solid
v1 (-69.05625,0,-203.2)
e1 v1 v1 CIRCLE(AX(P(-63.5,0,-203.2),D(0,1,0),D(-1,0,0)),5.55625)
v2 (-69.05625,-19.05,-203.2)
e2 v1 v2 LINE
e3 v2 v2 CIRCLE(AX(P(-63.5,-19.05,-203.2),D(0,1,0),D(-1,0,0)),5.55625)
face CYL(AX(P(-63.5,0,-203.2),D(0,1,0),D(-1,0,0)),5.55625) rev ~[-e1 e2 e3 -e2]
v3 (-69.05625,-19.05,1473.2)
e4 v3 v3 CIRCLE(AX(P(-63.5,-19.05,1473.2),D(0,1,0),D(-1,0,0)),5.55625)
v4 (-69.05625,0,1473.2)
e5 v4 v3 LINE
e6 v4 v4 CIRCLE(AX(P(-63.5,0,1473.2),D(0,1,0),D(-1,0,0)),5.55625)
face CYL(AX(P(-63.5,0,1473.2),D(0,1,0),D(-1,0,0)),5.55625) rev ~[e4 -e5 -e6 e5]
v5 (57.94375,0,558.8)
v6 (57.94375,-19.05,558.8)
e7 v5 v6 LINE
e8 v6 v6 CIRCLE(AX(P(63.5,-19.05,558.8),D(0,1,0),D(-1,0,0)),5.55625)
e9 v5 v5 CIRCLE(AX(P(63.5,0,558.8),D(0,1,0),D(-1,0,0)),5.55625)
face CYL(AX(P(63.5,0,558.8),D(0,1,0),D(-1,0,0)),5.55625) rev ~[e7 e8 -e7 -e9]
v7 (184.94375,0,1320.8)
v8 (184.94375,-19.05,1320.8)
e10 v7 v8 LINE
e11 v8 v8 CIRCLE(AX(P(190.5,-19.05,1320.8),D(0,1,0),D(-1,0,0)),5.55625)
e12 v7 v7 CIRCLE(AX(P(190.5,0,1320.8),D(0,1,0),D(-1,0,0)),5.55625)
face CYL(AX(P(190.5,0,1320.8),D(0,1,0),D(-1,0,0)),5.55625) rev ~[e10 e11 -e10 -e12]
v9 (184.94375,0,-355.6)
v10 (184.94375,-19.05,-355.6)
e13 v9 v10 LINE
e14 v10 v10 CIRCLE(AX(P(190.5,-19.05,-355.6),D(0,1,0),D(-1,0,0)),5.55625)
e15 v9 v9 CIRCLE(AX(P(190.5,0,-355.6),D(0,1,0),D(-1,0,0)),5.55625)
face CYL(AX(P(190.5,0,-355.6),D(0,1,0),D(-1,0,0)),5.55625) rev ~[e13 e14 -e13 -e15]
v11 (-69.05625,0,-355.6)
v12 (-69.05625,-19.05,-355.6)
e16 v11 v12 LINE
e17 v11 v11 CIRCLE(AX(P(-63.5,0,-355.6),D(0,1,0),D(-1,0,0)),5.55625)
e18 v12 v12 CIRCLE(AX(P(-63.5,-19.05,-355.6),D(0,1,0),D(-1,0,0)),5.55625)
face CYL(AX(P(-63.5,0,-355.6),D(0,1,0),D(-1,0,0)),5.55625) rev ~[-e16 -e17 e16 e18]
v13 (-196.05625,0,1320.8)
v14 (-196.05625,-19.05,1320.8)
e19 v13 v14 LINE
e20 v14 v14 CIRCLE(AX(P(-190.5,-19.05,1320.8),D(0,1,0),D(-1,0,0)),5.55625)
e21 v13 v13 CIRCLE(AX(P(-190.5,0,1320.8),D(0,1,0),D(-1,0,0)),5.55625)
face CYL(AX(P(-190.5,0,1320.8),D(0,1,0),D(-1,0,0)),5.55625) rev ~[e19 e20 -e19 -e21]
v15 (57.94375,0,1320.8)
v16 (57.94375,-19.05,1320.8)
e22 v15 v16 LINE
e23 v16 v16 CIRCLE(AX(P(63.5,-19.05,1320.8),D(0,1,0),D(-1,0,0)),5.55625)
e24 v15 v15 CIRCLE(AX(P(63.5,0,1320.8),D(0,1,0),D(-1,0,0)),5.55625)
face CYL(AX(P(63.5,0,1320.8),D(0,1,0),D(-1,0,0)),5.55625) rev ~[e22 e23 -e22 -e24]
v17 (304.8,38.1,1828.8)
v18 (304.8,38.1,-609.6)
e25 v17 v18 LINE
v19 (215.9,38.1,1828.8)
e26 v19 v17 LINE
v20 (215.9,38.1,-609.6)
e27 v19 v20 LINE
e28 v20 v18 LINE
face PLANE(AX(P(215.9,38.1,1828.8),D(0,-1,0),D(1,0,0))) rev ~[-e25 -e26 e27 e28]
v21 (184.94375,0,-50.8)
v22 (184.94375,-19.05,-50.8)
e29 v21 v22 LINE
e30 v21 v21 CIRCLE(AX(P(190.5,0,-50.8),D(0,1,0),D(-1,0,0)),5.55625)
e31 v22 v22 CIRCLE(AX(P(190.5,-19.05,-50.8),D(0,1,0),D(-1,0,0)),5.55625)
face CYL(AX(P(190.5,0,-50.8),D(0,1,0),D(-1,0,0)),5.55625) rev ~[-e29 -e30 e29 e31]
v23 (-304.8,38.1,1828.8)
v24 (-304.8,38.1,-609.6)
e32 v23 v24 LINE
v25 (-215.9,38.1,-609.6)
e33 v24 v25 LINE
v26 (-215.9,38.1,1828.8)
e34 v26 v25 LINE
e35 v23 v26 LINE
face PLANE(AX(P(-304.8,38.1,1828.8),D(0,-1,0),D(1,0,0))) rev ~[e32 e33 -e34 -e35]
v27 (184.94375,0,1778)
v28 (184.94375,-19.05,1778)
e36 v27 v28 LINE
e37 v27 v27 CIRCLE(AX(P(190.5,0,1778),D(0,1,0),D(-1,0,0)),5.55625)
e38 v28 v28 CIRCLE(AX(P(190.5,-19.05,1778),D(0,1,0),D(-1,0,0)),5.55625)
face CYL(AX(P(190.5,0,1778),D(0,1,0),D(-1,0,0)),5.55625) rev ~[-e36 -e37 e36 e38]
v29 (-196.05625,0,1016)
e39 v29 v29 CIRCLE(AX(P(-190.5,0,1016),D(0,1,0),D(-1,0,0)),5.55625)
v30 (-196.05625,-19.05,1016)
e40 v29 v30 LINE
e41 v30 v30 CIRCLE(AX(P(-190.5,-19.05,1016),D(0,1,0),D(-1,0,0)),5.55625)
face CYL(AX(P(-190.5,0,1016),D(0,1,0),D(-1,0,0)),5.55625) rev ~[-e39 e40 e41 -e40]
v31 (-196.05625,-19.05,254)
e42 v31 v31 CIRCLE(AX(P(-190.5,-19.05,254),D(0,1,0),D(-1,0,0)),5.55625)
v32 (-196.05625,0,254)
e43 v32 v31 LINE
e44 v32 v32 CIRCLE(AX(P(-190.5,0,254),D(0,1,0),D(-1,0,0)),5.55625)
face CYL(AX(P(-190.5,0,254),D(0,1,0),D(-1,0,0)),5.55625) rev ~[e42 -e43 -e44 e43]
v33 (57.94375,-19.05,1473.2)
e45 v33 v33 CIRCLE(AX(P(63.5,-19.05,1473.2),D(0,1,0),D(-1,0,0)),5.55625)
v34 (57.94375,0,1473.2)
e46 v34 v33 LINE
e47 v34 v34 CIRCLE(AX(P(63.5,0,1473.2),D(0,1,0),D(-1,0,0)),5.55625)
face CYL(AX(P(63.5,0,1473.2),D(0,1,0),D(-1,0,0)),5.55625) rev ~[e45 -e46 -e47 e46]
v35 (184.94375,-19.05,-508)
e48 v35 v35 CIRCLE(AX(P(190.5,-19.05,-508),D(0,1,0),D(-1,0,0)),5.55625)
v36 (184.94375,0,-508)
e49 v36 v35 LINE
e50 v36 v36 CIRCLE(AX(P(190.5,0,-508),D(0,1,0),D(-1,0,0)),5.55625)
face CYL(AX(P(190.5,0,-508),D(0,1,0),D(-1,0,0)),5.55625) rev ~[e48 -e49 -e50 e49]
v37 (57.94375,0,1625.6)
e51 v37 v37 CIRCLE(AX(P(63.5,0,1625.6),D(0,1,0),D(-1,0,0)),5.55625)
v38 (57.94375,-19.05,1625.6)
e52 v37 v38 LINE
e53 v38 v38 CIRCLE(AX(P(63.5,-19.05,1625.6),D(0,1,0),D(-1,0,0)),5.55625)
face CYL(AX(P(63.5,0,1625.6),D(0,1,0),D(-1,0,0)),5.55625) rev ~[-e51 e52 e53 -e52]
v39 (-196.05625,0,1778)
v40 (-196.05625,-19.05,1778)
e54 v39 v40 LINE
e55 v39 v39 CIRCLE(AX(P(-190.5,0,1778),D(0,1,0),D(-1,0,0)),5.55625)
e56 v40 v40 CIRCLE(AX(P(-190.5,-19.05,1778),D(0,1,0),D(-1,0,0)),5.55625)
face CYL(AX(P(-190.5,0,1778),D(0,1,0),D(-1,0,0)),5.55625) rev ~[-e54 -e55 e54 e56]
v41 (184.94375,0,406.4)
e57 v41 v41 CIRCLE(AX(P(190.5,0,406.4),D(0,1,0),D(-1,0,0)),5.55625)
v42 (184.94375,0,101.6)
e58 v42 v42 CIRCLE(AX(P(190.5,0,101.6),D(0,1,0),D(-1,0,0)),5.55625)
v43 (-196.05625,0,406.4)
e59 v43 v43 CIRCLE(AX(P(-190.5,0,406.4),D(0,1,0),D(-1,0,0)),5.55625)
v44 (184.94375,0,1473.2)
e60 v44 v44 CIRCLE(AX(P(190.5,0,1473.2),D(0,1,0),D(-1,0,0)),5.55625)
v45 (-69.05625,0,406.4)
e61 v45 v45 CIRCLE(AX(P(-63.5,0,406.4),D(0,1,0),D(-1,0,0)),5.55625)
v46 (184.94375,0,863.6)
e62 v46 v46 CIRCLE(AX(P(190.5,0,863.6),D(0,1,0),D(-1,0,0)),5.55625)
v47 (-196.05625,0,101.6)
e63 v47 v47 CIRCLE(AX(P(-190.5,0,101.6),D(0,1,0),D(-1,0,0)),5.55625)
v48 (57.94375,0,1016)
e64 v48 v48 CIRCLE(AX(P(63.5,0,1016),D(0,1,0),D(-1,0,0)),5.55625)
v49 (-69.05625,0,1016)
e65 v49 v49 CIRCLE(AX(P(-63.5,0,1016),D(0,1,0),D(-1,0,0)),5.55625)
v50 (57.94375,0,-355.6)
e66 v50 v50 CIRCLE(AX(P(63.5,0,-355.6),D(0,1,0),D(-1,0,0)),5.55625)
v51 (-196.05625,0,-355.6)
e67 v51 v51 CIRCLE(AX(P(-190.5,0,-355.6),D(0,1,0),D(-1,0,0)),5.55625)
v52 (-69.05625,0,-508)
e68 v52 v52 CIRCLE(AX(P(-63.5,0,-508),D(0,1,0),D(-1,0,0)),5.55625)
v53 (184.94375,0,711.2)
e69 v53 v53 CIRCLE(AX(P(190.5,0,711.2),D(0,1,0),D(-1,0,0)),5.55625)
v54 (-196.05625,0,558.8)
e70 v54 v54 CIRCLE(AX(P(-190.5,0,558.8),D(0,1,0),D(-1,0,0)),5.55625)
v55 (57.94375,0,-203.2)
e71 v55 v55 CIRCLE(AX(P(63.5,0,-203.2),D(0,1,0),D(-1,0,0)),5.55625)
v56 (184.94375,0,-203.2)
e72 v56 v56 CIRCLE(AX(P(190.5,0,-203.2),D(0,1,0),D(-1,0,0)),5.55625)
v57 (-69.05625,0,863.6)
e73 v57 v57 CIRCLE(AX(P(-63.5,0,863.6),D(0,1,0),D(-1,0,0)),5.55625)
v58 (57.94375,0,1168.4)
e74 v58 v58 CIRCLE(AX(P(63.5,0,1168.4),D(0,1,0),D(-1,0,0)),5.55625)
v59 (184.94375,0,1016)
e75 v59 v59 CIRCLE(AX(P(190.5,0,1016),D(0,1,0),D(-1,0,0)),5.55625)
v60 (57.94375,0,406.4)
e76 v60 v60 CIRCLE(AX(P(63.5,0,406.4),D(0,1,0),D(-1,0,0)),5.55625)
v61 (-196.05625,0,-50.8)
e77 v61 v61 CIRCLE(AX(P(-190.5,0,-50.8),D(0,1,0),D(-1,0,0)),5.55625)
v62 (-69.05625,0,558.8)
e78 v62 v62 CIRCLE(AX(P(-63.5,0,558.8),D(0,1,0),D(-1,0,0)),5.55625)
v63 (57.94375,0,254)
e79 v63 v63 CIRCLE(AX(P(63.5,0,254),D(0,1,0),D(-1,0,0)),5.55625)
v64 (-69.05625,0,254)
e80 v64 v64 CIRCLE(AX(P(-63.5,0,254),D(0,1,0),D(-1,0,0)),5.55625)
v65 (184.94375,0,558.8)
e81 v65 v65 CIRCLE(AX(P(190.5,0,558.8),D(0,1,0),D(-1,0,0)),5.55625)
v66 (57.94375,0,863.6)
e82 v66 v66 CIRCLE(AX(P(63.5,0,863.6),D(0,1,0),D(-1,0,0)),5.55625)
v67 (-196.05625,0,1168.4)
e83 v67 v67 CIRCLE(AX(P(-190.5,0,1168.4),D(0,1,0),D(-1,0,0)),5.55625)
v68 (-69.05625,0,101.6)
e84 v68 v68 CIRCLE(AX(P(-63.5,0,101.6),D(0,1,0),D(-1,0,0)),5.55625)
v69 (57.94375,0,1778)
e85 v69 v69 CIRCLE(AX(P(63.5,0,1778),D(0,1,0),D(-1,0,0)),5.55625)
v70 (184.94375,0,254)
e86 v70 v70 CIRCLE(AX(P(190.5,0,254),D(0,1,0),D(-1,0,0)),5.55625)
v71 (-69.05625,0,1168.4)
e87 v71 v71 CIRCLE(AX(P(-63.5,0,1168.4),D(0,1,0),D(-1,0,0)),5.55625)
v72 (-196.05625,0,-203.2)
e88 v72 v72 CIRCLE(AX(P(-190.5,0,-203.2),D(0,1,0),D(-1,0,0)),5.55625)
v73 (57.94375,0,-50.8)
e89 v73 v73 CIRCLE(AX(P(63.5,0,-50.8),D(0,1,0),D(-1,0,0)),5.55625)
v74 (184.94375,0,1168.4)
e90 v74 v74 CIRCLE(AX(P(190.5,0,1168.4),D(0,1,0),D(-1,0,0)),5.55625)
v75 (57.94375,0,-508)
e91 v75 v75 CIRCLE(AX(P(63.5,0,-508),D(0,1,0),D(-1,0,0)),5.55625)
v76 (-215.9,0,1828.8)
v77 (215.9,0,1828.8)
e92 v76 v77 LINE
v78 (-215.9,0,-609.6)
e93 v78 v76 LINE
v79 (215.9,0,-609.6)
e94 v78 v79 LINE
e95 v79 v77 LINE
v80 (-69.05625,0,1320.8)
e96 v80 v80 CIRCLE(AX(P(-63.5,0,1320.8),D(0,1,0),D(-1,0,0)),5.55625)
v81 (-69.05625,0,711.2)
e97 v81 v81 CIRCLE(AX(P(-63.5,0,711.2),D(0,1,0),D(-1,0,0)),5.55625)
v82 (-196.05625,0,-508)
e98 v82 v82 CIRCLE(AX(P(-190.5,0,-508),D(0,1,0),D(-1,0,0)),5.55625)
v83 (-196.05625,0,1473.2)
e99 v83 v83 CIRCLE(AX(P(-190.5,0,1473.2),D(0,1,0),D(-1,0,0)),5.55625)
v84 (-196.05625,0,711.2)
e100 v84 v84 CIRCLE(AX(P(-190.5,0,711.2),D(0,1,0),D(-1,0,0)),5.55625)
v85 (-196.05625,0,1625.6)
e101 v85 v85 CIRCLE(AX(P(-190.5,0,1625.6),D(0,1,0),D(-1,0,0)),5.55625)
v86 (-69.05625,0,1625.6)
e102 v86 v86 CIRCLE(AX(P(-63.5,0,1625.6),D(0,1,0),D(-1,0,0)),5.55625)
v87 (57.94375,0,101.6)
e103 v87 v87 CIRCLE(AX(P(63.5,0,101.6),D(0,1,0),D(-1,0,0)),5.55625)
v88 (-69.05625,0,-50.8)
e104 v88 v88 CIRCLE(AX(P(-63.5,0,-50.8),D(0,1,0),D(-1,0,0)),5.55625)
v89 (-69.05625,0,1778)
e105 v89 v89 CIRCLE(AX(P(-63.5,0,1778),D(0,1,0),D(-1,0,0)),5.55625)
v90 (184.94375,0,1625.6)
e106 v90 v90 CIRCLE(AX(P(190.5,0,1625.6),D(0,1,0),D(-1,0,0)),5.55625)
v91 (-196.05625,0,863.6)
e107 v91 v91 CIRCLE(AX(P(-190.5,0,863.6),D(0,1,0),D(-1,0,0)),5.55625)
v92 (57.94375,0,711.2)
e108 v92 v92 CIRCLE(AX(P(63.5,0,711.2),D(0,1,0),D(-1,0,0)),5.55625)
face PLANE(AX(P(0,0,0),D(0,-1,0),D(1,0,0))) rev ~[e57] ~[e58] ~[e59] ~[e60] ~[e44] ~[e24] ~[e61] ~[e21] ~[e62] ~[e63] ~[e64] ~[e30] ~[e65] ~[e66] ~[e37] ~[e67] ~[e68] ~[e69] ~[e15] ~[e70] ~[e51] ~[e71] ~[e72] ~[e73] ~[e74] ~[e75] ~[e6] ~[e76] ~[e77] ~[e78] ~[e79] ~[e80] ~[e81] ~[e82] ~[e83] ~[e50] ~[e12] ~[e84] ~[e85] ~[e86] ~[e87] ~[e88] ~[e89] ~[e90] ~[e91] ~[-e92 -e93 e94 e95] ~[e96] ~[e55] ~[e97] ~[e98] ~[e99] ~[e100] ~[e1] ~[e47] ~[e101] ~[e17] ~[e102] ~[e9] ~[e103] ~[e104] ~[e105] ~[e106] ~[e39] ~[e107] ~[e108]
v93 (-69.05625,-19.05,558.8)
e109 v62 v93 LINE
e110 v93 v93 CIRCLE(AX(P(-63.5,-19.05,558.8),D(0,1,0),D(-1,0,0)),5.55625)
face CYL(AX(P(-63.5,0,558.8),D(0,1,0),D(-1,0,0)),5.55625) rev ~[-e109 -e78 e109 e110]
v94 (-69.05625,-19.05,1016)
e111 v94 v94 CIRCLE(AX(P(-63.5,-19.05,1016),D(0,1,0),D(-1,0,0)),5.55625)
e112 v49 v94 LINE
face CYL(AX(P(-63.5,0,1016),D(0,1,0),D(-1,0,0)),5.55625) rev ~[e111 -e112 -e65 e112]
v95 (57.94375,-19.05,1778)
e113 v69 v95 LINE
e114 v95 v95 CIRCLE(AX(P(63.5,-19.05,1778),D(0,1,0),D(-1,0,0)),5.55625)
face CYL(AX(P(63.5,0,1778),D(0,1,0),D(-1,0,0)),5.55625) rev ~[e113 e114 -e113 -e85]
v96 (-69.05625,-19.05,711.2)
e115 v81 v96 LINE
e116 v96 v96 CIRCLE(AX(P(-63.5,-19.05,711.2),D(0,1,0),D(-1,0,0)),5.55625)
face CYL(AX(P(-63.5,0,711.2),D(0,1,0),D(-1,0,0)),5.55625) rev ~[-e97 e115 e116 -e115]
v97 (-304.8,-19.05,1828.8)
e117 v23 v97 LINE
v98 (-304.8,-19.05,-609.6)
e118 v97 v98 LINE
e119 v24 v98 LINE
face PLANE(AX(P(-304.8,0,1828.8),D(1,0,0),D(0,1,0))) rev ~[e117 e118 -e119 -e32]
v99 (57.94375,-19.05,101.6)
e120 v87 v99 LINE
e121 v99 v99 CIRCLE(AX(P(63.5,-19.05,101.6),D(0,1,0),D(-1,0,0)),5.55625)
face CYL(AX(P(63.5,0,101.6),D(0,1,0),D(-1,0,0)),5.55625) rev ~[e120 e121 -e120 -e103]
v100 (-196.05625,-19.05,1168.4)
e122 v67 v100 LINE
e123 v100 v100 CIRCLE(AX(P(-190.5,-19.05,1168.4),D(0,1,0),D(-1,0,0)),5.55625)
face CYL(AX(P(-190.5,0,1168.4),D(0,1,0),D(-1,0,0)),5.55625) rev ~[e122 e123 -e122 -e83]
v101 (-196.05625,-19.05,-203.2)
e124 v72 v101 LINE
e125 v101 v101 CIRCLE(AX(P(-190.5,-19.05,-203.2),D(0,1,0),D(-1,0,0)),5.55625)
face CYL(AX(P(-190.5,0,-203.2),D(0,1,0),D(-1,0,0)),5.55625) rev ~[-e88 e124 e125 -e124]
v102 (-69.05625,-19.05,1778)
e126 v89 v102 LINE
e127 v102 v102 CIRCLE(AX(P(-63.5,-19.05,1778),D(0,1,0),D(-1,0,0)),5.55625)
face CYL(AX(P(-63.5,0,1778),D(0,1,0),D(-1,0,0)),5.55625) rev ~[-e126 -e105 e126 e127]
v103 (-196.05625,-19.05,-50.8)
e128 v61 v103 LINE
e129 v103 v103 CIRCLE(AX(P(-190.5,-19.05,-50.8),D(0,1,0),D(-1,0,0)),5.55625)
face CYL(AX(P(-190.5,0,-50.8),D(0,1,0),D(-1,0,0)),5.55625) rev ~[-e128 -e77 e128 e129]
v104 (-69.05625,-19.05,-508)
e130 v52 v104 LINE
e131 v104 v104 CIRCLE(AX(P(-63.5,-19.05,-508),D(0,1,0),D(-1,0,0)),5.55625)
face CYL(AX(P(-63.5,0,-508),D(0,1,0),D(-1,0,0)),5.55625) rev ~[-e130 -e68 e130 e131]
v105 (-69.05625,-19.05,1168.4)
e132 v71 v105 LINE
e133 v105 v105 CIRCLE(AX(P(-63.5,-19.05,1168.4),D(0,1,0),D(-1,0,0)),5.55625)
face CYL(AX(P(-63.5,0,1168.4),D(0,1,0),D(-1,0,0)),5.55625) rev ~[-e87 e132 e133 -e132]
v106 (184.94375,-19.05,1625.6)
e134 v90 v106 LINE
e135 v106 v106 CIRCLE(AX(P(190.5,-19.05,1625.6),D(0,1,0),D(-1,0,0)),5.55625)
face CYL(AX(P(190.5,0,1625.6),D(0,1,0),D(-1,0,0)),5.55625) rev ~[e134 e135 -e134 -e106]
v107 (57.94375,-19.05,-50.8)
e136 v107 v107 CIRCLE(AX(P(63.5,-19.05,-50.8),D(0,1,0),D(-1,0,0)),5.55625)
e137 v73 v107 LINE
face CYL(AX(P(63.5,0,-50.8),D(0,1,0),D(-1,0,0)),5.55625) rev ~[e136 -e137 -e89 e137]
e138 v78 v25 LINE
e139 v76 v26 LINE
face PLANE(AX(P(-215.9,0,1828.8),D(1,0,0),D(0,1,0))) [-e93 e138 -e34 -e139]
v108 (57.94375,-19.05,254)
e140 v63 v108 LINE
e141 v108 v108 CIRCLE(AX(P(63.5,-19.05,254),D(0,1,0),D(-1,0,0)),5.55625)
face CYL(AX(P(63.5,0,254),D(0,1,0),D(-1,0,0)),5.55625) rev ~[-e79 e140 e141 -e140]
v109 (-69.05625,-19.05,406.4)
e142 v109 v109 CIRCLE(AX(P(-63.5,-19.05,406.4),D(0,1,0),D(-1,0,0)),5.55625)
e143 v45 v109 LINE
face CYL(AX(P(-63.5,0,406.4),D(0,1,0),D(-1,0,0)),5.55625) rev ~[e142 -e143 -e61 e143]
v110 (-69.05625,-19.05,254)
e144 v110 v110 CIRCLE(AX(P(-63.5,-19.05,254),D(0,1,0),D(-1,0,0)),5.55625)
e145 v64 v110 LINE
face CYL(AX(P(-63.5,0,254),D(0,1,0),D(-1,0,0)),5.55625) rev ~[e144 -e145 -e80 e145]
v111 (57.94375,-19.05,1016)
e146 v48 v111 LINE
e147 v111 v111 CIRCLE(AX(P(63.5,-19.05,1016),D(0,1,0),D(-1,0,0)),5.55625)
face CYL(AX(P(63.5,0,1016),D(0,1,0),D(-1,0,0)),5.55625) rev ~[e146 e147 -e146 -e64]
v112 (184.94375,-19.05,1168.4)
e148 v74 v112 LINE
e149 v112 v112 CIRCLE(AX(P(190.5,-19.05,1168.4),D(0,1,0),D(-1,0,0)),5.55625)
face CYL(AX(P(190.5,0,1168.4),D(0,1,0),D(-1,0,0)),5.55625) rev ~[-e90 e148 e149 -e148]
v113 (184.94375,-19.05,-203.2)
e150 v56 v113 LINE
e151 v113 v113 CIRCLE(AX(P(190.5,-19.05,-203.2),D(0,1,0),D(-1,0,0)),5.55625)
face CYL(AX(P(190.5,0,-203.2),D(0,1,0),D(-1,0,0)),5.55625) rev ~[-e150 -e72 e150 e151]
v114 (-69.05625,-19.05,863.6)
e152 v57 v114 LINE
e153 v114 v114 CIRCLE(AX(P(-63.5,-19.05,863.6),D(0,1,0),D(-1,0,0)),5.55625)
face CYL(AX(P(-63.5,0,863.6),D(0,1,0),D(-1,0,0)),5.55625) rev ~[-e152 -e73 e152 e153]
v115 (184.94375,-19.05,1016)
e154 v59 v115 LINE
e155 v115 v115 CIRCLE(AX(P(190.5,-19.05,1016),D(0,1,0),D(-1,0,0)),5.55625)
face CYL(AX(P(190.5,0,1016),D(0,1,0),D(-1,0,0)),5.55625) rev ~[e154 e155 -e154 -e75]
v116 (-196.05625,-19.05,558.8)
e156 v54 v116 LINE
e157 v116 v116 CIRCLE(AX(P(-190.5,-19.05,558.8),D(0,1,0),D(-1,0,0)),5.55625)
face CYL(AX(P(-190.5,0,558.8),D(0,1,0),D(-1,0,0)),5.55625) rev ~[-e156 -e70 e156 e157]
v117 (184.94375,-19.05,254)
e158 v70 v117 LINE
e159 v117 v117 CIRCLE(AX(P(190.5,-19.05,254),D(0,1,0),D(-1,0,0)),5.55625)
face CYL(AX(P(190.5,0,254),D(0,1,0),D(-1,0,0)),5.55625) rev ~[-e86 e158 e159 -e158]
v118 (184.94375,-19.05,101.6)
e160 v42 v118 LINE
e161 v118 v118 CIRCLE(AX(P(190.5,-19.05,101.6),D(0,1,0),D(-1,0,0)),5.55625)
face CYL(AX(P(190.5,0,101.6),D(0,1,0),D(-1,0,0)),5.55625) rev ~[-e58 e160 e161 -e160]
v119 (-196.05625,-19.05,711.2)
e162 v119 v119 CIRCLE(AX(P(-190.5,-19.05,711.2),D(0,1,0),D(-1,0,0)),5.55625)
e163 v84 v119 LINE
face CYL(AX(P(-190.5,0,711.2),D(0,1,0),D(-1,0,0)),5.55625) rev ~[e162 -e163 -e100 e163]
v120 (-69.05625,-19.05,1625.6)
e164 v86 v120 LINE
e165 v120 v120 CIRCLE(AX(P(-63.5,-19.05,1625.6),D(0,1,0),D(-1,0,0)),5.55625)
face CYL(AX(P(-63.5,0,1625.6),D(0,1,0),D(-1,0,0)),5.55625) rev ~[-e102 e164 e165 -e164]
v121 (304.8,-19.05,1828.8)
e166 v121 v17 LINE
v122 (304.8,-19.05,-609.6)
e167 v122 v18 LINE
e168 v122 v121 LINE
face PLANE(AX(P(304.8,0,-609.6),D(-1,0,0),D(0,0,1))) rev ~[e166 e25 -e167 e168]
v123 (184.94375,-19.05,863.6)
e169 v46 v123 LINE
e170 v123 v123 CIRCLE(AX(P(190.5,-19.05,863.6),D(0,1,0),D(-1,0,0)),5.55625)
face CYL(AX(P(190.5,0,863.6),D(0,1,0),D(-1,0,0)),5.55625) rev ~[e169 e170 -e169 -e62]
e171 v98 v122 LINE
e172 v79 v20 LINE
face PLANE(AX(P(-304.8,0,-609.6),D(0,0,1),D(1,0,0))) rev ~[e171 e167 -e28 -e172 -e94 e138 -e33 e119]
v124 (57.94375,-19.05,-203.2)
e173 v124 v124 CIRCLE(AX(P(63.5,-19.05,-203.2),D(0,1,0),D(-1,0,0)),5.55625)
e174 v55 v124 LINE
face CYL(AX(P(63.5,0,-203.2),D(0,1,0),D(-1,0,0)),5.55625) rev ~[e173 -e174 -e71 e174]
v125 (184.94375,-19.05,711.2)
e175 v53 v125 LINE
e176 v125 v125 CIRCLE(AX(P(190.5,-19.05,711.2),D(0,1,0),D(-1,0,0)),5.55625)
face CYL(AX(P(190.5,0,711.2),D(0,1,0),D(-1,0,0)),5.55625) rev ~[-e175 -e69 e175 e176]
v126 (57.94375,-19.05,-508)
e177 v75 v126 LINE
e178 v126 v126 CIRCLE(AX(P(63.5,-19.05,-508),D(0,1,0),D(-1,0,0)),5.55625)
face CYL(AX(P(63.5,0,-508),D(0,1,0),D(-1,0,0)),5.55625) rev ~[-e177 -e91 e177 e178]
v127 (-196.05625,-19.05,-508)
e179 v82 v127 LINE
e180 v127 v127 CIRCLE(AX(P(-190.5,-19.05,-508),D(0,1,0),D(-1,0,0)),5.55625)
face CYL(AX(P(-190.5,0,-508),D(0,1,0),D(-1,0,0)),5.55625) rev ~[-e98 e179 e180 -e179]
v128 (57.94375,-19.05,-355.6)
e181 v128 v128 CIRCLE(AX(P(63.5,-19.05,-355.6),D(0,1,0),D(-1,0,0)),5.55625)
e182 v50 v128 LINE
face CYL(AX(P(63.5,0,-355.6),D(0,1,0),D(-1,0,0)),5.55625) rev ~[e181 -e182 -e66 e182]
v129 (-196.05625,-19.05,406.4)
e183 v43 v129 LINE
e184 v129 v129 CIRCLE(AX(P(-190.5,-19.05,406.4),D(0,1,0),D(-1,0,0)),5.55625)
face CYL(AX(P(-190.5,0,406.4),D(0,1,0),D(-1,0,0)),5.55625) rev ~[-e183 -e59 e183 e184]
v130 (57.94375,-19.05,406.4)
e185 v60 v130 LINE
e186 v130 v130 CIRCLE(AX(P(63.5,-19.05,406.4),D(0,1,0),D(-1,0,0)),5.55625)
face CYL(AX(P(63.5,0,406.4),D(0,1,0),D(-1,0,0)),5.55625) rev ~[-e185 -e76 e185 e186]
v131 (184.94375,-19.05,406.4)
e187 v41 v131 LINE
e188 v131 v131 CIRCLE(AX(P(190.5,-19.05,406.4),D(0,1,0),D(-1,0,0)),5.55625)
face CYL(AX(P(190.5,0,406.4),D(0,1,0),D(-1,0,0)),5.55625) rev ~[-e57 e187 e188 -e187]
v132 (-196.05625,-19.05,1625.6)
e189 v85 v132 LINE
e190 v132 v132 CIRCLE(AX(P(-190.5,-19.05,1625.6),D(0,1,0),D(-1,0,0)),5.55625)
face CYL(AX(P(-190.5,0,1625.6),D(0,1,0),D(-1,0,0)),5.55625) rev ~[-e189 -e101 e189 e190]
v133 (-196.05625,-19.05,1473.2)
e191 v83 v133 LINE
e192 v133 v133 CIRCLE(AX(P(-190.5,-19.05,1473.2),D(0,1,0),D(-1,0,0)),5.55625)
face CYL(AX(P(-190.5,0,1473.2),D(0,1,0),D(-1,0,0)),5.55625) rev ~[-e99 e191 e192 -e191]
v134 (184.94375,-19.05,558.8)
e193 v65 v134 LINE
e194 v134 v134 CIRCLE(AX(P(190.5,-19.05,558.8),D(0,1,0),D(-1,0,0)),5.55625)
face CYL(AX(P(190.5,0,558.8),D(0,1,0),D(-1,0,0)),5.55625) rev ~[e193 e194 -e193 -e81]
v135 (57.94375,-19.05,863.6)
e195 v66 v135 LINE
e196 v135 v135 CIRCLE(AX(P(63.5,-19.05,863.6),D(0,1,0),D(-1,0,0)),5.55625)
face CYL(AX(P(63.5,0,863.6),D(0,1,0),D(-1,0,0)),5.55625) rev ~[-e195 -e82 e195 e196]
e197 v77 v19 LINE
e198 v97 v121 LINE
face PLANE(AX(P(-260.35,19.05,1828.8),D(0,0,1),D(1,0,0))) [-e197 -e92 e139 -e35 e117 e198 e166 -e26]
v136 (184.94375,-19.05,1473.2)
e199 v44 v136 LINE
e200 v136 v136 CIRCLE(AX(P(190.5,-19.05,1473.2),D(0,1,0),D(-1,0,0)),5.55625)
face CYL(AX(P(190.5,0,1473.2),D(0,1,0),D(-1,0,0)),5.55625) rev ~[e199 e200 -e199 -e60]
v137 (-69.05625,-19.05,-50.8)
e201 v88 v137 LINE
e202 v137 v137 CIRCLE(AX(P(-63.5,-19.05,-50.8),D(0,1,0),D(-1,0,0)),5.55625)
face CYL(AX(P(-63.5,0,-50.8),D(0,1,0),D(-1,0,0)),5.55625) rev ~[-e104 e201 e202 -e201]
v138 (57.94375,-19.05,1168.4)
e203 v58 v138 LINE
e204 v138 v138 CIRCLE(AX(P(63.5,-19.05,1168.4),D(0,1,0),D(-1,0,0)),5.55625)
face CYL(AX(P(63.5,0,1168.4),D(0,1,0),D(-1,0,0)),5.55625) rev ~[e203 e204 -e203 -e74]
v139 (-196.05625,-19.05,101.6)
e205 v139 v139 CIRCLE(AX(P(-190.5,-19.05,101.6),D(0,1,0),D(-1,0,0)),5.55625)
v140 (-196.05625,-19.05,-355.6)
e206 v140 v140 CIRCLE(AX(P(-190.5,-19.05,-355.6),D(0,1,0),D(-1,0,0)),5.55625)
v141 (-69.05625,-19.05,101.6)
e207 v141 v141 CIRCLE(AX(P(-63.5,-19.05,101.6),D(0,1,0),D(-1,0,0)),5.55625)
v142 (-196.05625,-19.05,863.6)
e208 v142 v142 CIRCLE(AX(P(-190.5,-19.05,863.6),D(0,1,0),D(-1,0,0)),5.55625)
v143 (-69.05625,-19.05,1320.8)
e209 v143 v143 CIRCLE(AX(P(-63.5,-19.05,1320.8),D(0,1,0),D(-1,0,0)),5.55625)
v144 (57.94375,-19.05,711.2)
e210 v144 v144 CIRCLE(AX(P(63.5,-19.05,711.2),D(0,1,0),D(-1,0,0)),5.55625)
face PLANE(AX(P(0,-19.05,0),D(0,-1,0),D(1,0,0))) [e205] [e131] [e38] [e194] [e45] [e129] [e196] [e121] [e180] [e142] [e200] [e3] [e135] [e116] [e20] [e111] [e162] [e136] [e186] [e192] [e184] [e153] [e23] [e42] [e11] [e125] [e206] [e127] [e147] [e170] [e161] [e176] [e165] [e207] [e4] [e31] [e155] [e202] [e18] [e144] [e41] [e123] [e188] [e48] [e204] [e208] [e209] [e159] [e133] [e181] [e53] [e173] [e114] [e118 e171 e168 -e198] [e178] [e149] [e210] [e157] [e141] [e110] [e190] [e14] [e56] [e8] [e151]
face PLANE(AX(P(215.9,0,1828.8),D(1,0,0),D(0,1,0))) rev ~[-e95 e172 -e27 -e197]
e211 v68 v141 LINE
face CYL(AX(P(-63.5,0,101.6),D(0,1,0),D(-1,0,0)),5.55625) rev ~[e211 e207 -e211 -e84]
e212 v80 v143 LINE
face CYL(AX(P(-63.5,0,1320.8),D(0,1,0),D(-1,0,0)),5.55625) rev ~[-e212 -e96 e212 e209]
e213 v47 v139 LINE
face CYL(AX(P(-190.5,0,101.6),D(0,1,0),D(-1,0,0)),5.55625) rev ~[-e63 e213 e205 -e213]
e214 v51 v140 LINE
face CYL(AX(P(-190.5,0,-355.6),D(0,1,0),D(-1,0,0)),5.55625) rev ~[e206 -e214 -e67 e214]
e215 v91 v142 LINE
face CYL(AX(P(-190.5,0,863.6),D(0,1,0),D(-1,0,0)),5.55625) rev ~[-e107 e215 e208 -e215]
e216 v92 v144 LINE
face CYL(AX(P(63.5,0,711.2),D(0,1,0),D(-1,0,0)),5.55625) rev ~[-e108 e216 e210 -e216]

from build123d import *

# Parameters (mm, degrees)
F0_W          = 609.6
F0_H          = 1219.2
F1_DEPTH      = 19.05
F2_W          = 88.9
F2_H          = 38.1
F3_DEPTH      = 1219.2
F4_DEPTH      = 2438.4
F4_DEPTH_BACK = 1219.2
F6_R          = 5.55625
F7_DEPTH      = 19.051


with BuildPart() as f1:
    # F0 (on Front) → F1 (new body)
    with BuildSketch(Plane.XZ):
        Rectangle(F0_W, F0_H)
        with Locations((0, 1219.2)):
            Rectangle(F0_W, F0_H)
    extrude(amount=F1_DEPTH)


with BuildPart() as f3:
    # F2 (on face) → F3 (new body)
    with BuildSketch(Plane.XY.offset(1828.8)):
        with Locations((260.35, 19.05)):
            Rectangle(F2_W, F2_H)
        with Locations((-260.35, 19.05)):
            Rectangle(F2_W, F2_H)
    extrude(amount=-F3_DEPTH)


with BuildPart() as f4:
    # F2 (on face) → F4 (new body, two sides)
    with BuildSketch(Plane.XY.offset(1828.8)) as f4_sk:
        with Locations((260.35, 19.05)):
            Rectangle(F2_W, F2_H)
        with Locations((-260.35, 19.05)):
            Rectangle(F2_W, F2_H)
    extrude(amount=-F4_DEPTH)
    extrude(f4_sk.sketch, amount=-F4_DEPTH_BACK)


with BuildPart() as f1_1:
    add(f1.part)

    # F5: union F3, F4
    add(f3.part)
    add(f4.part)

    # F6 (on face) → F7 (cut, through all)
    with BuildSketch(Plane(origin=(0, 0, 0), x_dir=(-1, 0, 0), z_dir=(0, 1, 0))):
        with Locations((-190.5, 1778)):
            Circle(F6_R)
        with Locations((-190.5, 1625.6)):
            Circle(F6_R)
        with Locations((-190.5, 1473.2)):
            Circle(F6_R)
        with Locations((-190.5, 1320.8)):
            Circle(F6_R)
        with Locations((-190.5, 1168.4)):
            Circle(F6_R)
        with Locations((-63.5, 1778)):
            Circle(F6_R)
        with Locations((-63.5, 1625.6)):
            Circle(F6_R)
        with Locations((-63.5, 1473.2)):
            Circle(F6_R)
        with Locations((-63.5, 1320.8)):
            Circle(F6_R)
        with Locations((-63.5, 1168.4)):
            Circle(F6_R)
        with Locations((63.5, 1778)):
            Circle(F6_R)
        with Locations((63.5, 1625.6)):
            Circle(F6_R)
        with Locations((63.5, 1473.2)):
            Circle(F6_R)
        with Locations((63.5, 1320.8)):
            Circle(F6_R)
        with Locations((63.5, 1168.4)):
            Circle(F6_R)
        with Locations((190.5, 1778)):
            Circle(F6_R)
        with Locations((190.5, 1625.6)):
            Circle(F6_R)
        with Locations((190.5, 1473.2)):
            Circle(F6_R)
        with Locations((190.5, 1320.8)):
            Circle(F6_R)
        with Locations((190.5, 1168.4)):
            Circle(F6_R)
        with Locations((-190.5, 1016)):
            Circle(F6_R)
        with Locations((-190.5, 863.6)):
            Circle(F6_R)
        with Locations((-190.5, 711.2)):
            Circle(F6_R)
        with Locations((-190.5, 558.8)):
            Circle(F6_R)
        with Locations((-190.5, 406.4)):
            Circle(F6_R)
        with Locations((-190.5, 254)):
            Circle(F6_R)
        with Locations((-190.5, 101.6)):
            Circle(F6_R)
        with Locations((-190.5, -50.8)):
            Circle(F6_R)
        with Locations((-190.5, -203.2)):
            Circle(F6_R)
        with Locations((-190.5, -355.6)):
            Circle(F6_R)
        with Locations((-63.5, 1016)):
            Circle(F6_R)
        with Locations((-63.5, 863.6)):
            Circle(F6_R)
        with Locations((-63.5, 711.2)):
            Circle(F6_R)
        with Locations((-63.5, 558.8)):
            Circle(F6_R)
        with Locations((-63.5, 406.4)):
            Circle(F6_R)
        with Locations((-63.5, 254)):
            Circle(F6_R)
        with Locations((-63.5, 101.6)):
            Circle(F6_R)
        with Locations((-63.5, -50.8)):
            Circle(F6_R)
        with Locations((-63.5, -203.2)):
            Circle(F6_R)
        with Locations((-63.5, -355.6)):
            Circle(F6_R)
        with Locations((63.5, 1016)):
            Circle(F6_R)
        with Locations((63.5, 863.6)):
            Circle(F6_R)
        with Locations((63.5, 711.2)):
            Circle(F6_R)
        with Locations((63.5, 558.8)):
            Circle(F6_R)
        with Locations((63.5, 406.4)):
            Circle(F6_R)
        with Locations((63.5, 254)):
            Circle(F6_R)
        with Locations((63.5, 101.6)):
            Circle(F6_R)
        with Locations((63.5, -50.8)):
            Circle(F6_R)
        with Locations((63.5, -203.2)):
            Circle(F6_R)
        with Locations((63.5, -355.6)):
            Circle(F6_R)
        with Locations((190.5, 1016)):
            Circle(F6_R)
        with Locations((190.5, 863.6)):
            Circle(F6_R)
        with Locations((190.5, 711.2)):
            Circle(F6_R)
        with Locations((190.5, 558.8)):
            Circle(F6_R)
        with Locations((190.5, 406.4)):
            Circle(F6_R)
        with Locations((190.5, 254)):
            Circle(F6_R)
        with Locations((190.5, 101.6)):
            Circle(F6_R)
        with Locations((190.5, -50.8)):
            Circle(F6_R)
        with Locations((190.5, -203.2)):
            Circle(F6_R)
        with Locations((190.5, -355.6)):
            Circle(F6_R)
        with Locations((-190.5, -508)):
            Circle(F6_R)
        with Locations((-63.5, -508)):
            Circle(F6_R)
        with Locations((63.5, -508)):
            Circle(F6_R)
        with Locations((190.5, -508)):
            Circle(F6_R)
    extrude(amount=-F7_DEPTH, mode=Mode.SUBTRACT)


solid = f1_1.part
